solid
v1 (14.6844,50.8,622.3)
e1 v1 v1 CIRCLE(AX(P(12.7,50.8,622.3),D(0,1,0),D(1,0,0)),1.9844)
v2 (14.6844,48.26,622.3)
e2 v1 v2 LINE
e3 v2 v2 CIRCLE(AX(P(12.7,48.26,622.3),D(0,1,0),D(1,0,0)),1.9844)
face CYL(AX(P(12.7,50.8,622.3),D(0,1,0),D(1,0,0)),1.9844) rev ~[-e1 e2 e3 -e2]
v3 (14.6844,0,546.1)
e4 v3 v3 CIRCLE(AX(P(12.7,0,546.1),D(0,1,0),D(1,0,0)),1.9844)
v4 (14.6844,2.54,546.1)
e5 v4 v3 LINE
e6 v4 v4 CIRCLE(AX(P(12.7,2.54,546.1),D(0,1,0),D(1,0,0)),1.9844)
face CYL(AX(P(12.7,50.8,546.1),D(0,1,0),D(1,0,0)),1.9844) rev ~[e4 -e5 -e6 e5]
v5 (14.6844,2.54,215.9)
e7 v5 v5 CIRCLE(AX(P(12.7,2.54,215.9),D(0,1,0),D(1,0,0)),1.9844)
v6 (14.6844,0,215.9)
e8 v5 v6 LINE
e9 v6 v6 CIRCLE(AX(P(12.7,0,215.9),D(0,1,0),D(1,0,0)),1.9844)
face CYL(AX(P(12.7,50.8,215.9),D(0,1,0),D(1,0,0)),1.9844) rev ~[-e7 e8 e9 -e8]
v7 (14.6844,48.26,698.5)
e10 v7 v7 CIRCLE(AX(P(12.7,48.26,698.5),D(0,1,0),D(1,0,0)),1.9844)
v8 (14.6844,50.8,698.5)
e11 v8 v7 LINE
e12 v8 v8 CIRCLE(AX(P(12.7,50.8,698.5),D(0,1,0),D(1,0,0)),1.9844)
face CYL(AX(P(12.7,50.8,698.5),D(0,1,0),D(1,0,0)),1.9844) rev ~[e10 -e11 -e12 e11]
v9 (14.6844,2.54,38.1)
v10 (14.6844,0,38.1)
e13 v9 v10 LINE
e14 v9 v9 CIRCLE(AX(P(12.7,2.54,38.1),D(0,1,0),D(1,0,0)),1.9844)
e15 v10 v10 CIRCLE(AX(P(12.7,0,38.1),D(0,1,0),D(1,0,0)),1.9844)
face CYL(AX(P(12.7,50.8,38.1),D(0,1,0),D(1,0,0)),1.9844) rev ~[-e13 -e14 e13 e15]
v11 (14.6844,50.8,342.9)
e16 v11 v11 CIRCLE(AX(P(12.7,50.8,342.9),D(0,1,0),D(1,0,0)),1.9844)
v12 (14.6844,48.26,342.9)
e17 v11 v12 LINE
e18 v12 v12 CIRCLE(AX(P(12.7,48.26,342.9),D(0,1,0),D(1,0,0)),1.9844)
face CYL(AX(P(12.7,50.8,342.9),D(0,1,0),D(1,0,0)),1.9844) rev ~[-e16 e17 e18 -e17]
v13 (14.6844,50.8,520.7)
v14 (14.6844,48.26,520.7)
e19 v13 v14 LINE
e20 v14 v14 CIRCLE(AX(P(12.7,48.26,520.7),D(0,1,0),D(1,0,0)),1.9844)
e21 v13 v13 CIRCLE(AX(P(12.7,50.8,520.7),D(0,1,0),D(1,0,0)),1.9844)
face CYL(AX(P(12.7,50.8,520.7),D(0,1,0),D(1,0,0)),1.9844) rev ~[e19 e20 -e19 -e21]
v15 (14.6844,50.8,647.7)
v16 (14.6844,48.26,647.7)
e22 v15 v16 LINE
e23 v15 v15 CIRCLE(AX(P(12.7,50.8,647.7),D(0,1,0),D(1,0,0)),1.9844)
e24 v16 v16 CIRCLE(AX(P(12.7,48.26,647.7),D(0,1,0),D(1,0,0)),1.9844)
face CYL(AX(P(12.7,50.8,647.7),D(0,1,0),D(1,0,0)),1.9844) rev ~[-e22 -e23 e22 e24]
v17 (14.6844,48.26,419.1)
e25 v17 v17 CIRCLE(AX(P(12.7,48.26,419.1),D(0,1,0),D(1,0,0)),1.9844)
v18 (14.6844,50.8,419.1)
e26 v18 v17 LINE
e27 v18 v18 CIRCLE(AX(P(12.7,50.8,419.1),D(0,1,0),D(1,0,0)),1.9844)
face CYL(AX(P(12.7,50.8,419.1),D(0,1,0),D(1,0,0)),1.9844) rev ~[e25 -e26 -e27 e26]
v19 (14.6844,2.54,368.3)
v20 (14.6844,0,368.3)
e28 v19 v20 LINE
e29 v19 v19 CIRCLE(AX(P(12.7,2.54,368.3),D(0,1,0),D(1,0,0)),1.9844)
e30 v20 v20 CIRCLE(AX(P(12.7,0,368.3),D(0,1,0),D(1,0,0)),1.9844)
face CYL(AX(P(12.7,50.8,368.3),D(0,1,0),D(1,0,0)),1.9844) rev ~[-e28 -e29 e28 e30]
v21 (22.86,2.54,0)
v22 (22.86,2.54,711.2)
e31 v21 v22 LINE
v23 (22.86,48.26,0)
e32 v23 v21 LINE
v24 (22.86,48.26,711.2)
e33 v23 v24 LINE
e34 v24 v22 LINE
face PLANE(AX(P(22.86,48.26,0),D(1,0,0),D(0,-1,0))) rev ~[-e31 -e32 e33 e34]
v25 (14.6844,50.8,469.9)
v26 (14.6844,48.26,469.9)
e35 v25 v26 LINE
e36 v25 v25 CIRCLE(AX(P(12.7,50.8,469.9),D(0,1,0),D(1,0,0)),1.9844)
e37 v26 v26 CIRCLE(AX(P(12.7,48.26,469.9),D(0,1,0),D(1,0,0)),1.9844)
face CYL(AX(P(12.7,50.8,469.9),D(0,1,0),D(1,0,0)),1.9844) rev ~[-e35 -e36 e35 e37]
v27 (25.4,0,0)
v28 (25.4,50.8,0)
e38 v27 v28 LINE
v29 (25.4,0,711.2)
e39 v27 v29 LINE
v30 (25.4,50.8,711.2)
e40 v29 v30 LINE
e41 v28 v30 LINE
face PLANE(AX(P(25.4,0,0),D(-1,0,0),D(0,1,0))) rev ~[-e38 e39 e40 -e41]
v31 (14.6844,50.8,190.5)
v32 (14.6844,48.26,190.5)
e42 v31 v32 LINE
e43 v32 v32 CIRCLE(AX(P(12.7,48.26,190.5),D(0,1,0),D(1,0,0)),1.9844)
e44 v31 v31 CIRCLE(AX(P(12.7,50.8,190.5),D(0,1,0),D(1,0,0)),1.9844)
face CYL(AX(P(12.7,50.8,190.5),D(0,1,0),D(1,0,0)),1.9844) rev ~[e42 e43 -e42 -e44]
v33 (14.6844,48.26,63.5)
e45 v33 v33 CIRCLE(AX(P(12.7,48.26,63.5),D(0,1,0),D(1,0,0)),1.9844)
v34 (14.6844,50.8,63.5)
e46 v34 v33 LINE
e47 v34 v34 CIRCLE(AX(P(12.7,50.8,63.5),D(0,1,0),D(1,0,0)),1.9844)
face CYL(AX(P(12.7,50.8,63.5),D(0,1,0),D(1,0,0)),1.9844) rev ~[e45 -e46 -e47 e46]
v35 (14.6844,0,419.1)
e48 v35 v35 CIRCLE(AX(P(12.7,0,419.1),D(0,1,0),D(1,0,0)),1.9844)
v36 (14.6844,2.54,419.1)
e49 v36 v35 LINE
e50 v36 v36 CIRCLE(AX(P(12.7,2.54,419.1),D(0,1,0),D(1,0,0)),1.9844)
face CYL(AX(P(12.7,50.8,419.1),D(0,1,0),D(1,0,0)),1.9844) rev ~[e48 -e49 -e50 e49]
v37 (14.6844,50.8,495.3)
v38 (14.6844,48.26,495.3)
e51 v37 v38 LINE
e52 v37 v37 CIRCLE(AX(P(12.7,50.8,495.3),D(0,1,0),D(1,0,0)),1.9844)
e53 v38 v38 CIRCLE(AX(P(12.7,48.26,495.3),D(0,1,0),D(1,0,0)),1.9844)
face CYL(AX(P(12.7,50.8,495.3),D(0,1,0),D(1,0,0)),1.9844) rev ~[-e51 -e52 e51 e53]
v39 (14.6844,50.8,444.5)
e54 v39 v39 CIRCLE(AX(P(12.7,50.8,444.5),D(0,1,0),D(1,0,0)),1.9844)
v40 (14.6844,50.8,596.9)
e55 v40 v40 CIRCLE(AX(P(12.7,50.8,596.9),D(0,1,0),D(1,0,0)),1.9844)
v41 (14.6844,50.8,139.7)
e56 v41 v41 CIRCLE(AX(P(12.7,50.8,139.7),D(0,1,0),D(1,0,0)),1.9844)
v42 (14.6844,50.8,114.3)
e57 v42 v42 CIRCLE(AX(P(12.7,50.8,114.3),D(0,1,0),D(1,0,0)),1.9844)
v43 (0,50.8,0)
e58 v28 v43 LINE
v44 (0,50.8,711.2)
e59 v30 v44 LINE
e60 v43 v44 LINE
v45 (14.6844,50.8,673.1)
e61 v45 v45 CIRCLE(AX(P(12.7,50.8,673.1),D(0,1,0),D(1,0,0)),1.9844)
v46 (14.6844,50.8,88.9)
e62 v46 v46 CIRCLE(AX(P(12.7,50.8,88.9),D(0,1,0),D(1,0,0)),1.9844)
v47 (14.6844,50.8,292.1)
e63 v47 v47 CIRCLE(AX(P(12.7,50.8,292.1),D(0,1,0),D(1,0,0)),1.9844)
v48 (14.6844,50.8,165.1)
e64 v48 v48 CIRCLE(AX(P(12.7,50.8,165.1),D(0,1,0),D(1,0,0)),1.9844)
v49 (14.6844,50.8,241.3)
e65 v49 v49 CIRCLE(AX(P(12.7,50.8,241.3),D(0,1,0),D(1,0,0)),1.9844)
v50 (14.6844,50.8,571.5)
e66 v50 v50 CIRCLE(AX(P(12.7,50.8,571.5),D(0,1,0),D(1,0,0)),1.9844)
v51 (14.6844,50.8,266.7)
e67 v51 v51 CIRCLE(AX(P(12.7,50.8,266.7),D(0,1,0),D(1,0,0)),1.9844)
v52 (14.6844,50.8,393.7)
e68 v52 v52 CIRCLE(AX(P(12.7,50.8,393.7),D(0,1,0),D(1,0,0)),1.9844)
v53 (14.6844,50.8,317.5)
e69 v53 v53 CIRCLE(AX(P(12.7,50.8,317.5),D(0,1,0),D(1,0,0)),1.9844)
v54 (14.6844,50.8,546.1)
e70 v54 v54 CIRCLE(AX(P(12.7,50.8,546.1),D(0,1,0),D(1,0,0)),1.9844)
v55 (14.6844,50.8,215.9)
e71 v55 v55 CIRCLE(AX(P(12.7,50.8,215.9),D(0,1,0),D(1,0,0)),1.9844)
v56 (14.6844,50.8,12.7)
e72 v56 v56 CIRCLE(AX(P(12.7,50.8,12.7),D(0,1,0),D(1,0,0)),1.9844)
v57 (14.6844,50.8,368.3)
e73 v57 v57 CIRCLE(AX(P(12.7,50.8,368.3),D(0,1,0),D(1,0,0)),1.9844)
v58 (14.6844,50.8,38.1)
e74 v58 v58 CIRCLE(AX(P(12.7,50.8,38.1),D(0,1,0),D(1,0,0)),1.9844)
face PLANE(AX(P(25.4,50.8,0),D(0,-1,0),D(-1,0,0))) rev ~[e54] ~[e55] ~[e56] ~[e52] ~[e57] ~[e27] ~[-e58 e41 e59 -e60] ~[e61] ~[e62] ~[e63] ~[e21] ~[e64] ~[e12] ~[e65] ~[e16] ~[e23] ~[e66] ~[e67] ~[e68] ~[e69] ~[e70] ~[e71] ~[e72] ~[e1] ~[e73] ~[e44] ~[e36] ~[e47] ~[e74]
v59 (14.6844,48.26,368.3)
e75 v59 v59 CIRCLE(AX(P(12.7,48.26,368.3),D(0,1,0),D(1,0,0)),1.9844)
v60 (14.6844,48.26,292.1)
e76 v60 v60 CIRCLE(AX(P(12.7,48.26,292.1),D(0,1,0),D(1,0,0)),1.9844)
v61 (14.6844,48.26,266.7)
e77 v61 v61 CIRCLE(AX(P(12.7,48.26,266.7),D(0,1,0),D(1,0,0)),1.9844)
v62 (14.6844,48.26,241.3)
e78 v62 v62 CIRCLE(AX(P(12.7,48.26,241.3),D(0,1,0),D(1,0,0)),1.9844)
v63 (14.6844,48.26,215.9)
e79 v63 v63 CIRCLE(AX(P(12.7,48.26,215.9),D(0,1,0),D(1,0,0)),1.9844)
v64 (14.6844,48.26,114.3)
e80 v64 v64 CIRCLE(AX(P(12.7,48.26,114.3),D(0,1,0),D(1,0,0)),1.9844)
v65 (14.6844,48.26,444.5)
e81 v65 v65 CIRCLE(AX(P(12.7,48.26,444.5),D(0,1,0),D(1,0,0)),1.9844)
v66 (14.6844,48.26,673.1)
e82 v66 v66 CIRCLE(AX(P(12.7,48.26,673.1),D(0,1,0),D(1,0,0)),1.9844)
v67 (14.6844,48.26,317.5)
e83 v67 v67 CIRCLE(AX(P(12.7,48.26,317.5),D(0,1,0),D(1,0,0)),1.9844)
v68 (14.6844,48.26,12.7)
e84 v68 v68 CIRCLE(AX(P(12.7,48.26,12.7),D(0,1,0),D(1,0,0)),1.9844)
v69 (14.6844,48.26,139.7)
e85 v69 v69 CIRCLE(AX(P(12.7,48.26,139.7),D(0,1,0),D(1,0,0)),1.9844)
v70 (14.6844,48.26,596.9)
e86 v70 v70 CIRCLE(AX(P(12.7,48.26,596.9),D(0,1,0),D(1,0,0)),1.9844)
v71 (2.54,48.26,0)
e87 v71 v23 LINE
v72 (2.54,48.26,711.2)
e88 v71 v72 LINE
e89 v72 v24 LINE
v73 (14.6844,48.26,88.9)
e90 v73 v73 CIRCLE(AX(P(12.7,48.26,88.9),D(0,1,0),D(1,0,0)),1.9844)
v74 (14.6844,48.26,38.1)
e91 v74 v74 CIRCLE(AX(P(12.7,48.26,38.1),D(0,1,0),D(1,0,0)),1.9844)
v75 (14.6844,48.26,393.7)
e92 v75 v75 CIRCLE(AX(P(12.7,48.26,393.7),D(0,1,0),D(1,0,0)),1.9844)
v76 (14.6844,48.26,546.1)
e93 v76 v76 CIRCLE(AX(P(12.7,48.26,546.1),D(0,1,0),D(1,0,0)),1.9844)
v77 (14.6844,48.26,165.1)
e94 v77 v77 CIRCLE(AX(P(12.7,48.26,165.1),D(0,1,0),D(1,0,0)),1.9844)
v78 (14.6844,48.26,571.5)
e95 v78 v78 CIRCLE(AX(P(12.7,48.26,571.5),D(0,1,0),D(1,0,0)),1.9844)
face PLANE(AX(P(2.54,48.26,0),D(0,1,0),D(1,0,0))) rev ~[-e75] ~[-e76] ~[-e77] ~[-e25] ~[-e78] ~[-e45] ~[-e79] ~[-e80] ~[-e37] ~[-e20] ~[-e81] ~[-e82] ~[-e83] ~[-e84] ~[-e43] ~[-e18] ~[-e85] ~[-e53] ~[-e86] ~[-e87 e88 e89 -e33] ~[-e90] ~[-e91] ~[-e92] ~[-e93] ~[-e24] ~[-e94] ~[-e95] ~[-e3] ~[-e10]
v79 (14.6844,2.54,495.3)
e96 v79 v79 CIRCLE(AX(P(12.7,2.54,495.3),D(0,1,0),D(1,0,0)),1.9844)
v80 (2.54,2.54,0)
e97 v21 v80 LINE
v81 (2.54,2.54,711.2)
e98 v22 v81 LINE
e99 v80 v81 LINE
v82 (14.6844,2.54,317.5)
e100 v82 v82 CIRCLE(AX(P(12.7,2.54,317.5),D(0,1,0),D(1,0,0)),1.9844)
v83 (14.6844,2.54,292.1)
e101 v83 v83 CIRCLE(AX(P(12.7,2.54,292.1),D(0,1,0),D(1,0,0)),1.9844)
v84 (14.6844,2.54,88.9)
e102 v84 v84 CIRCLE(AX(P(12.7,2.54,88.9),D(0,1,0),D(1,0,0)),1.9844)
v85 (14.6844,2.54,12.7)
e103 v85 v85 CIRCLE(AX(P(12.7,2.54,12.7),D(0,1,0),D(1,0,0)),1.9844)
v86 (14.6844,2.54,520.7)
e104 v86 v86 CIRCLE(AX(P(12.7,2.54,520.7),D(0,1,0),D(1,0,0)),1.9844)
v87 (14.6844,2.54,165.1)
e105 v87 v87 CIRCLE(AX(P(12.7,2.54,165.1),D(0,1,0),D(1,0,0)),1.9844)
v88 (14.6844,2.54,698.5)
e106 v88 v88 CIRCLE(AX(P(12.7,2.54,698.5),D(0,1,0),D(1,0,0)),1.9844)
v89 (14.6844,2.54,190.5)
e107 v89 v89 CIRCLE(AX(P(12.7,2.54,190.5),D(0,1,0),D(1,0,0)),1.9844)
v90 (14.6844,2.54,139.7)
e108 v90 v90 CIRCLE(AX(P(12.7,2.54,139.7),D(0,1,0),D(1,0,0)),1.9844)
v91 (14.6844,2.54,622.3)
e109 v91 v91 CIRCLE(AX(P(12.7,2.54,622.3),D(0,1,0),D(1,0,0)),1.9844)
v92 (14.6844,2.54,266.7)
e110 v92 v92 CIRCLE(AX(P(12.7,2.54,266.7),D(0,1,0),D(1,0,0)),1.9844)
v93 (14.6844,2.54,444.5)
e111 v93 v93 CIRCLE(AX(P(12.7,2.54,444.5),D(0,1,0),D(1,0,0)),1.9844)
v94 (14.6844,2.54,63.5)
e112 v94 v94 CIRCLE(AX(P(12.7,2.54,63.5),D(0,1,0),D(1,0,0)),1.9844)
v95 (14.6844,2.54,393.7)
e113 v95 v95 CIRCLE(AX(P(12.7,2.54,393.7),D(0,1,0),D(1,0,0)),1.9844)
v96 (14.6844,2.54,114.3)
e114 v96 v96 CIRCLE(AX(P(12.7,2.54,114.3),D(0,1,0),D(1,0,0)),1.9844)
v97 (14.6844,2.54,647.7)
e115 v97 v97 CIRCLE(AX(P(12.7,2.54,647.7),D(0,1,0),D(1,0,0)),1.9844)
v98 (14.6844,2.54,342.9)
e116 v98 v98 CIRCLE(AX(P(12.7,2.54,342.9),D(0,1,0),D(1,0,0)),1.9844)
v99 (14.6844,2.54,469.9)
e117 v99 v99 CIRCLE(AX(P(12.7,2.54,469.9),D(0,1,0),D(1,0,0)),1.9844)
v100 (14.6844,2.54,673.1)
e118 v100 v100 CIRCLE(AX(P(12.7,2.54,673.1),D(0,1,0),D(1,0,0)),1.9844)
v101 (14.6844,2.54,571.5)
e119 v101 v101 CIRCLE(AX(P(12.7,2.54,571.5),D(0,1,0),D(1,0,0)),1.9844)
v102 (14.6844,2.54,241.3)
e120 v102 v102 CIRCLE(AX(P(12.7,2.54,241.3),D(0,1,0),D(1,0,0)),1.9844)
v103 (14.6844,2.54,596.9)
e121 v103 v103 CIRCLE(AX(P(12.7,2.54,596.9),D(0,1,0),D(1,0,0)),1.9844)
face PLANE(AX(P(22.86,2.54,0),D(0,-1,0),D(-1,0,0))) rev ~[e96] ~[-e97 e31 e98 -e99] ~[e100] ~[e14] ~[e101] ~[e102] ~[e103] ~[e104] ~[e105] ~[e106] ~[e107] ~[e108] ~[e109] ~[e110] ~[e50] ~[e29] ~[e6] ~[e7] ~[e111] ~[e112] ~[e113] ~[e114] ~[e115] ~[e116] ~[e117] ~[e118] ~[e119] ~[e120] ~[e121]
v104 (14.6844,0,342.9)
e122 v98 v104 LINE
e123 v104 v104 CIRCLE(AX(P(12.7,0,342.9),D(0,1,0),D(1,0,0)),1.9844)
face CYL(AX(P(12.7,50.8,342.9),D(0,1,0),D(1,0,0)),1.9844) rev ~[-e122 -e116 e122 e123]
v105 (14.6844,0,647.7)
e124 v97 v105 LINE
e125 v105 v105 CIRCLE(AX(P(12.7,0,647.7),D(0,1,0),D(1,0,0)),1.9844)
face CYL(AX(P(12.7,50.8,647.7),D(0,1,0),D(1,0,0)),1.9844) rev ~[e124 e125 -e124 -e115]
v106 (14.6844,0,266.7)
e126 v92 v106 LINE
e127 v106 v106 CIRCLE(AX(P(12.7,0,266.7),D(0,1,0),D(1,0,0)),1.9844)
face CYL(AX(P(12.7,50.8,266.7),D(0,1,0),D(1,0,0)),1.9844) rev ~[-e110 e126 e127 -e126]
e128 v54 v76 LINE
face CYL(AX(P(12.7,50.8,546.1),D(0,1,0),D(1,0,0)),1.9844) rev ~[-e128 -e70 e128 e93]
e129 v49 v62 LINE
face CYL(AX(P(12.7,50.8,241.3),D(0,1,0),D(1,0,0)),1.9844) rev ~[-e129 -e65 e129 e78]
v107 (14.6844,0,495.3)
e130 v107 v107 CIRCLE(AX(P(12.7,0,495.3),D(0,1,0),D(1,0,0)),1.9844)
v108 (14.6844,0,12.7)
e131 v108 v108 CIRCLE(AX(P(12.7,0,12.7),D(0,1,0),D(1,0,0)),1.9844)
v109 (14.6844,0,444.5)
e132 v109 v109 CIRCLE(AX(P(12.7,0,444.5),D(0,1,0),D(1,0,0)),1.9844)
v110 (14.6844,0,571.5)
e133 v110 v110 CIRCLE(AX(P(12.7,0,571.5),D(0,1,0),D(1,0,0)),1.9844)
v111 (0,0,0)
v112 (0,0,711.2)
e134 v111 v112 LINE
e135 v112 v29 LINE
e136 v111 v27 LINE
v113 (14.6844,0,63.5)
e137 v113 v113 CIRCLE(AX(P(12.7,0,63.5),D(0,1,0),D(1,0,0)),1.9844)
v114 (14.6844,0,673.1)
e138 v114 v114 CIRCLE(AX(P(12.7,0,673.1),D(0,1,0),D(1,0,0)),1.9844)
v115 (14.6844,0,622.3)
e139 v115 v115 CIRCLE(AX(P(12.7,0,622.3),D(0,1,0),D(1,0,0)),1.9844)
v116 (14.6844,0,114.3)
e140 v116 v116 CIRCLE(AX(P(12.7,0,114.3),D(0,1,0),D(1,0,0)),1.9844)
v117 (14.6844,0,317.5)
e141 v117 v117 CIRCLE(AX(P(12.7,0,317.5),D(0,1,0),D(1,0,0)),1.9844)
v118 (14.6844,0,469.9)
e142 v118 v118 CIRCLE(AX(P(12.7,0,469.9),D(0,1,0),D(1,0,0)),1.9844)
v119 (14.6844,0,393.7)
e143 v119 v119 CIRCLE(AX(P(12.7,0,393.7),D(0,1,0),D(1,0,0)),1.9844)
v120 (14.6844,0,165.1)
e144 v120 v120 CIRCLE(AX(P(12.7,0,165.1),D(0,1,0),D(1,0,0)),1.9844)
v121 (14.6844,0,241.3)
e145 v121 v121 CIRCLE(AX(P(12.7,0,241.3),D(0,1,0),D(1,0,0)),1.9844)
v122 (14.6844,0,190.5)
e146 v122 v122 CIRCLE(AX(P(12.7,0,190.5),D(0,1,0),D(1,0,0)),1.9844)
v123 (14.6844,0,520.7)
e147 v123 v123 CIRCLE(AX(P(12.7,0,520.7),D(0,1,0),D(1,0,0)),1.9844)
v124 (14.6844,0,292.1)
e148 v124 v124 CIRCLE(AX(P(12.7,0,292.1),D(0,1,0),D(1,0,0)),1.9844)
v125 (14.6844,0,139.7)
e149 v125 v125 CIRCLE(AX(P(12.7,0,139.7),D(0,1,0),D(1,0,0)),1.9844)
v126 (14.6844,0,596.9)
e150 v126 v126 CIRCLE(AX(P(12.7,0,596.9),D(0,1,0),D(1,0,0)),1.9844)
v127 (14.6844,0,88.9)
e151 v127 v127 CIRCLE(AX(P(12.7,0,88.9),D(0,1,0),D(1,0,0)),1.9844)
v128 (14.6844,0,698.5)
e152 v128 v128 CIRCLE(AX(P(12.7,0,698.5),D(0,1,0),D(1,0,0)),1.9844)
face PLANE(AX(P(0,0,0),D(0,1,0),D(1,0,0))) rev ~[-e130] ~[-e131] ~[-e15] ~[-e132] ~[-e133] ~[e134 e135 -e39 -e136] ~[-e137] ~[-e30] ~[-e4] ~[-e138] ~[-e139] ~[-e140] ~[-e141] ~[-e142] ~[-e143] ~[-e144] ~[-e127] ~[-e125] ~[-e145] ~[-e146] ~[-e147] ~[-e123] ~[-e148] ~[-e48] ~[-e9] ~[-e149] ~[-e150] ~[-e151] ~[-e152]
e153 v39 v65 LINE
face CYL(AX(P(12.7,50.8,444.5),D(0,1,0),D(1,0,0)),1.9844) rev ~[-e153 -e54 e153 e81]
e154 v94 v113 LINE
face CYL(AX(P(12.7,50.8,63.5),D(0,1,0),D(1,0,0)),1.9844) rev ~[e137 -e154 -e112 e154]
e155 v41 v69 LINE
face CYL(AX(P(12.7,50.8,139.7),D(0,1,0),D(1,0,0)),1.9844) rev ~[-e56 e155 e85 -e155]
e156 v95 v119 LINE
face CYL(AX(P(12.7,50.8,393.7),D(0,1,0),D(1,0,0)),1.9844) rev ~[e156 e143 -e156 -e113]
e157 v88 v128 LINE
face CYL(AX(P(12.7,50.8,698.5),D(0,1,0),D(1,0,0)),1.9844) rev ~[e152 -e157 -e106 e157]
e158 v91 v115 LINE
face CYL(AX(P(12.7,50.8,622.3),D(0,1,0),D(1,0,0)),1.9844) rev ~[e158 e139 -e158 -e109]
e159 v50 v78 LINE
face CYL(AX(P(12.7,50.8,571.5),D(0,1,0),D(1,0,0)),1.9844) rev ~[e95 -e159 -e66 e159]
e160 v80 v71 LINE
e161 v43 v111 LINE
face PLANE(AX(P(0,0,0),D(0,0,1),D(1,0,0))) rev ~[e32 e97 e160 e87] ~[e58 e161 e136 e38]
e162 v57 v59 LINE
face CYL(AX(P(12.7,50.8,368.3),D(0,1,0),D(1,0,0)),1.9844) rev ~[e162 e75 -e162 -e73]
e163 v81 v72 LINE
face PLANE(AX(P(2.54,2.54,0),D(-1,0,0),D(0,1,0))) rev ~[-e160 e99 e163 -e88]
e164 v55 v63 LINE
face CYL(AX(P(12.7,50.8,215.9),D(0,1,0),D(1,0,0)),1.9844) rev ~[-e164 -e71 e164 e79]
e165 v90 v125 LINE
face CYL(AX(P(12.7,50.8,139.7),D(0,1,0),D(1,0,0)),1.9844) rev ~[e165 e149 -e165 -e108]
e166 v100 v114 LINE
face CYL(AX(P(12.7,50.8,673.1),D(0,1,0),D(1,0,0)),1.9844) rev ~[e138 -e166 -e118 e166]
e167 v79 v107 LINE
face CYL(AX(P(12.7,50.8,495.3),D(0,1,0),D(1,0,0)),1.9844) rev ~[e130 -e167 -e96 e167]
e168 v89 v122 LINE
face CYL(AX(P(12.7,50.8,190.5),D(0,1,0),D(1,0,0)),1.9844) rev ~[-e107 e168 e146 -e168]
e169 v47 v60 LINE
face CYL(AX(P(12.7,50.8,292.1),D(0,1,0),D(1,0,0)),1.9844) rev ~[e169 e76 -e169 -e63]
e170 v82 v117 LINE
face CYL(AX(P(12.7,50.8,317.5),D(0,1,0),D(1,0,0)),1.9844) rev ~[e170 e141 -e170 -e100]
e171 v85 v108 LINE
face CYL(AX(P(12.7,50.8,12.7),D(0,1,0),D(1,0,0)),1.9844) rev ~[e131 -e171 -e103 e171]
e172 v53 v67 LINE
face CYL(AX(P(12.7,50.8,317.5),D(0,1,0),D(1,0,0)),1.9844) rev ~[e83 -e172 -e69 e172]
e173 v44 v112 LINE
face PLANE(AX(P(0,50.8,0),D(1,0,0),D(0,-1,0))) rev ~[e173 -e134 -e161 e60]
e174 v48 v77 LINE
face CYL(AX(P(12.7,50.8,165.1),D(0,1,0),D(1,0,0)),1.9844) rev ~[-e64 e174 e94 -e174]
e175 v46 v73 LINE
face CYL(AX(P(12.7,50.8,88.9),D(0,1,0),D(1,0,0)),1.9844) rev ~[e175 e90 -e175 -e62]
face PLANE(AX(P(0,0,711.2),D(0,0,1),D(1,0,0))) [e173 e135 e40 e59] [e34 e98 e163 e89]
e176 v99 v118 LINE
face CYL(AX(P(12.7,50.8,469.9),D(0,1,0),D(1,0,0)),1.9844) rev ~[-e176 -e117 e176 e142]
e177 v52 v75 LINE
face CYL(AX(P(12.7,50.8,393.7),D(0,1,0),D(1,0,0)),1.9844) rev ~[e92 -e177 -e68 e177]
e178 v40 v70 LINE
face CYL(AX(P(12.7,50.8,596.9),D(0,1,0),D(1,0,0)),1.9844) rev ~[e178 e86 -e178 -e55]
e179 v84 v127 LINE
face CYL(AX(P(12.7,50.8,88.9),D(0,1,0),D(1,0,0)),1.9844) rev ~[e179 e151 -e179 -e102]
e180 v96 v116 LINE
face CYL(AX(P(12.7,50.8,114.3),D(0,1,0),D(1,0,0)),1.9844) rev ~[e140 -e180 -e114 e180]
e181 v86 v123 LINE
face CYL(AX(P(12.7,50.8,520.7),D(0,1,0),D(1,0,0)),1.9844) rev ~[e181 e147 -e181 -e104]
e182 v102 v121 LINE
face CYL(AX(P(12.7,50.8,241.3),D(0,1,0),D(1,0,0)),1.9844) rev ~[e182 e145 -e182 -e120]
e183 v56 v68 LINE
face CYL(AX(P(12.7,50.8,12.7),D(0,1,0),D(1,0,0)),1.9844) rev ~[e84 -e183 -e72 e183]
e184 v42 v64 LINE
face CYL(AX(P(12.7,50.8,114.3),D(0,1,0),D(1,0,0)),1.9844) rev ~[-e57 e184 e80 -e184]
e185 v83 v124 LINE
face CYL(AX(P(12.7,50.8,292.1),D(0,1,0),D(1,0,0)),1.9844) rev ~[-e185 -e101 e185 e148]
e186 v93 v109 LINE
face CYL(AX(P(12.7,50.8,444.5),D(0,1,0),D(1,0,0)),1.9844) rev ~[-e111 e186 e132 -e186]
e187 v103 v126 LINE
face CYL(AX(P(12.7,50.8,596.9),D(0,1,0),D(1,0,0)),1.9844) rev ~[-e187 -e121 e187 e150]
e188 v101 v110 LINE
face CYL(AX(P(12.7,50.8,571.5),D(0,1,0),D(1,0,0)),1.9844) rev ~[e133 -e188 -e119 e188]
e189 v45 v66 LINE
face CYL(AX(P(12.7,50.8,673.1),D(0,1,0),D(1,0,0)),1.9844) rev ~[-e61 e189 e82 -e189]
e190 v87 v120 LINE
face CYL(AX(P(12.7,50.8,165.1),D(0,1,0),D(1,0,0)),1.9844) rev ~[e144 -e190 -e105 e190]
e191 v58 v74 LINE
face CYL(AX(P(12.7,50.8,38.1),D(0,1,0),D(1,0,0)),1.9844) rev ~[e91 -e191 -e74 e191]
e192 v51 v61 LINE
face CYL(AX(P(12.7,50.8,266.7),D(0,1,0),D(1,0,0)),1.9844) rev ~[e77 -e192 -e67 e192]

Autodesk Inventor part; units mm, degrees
ref_plane "YZ Plane" through (0, 0, 0) normal (1, 0, 0) x (0, 1, 0)
ref_plane "XZ Plane" through (0, 0, 0) normal (0, 1, 0) x (-1, 0, 0)
ref_plane "XY Plane" through (0, 0, 0) normal (0, 0, 1) x (1, 0, 0)
sketch "Sketch1" plane through (0, 0, 0) normal (0, 0, 1) x (1, 0, 0)
  line L0 (0, 0) -> (25.4, 0)
  line L1 (25.4, 0) -> (25.4, 50.8)
  line L2 (25.4, 50.8) -> (0, 50.8)
  line L3 (0, 50.8) -> (0, 0)
  line L4 (22.86, 48.26) -> (22.86, 2.54)
  line L5 (22.86, 2.54) -> (2.54, 2.54)
  line L6 (2.54, 2.54) -> (2.54, 48.26)
  line L7 (2.54, 48.26) -> (22.86, 48.26)
  dimension "d0" = 25.4
  dimension "d1" = 50.8
  dimension "d2" = 2.54
extrude "Extrusion1" add sketch "Sketch1" along normal blind 711.2
sketch "Sketch2" plane through (0, 50.8, 0) normal (0, 1, 0) x (1, 0, 0)
  circle A0 centre (12.7, -12.7) radius 1.9844
  line L0 (25.4, 0) -> (0, 0) projected
  line L1 (25.4, 0) -> (25.4, -711.2) projected
  circle A1 centre (12.7, -38.1) radius 1.9844
  circle A2 centre (12.7, -63.5) radius 1.9844
  circle A3 centre (12.7, -88.9) radius 1.9844
  circle A4 centre (12.7, -114.3) radius 1.9844
  circle A5 centre (12.7, -139.7) radius 1.9844
  circle A6 centre (12.7, -165.1) radius 1.9844
  circle A7 centre (12.7, -190.5) radius 1.9844
  circle A8 centre (12.7, -215.9) radius 1.9844
  circle A9 centre (12.7, -241.3) radius 1.9844
  circle A10 centre (12.7, -266.7) radius 1.9844
  circle A11 centre (12.7, -292.1) radius 1.9844
  circle A12 centre (12.7, -317.5) radius 1.9844
  circle A13 centre (12.7, -342.9) radius 1.9844
  circle A14 centre (12.7, -368.3) radius 1.9844
  circle A15 centre (12.7, -393.7) radius 1.9844
  circle A16 centre (12.7, -419.1) radius 1.9844
  circle A17 centre (12.7, -444.5) radius 1.9844
  circle A18 centre (12.7, -469.9) radius 1.9844
  circle A19 centre (12.7, -495.3) radius 1.9844
  circle A20 centre (12.7, -520.7) radius 1.9844
  circle A21 centre (12.7, -546.1) radius 1.9844
  circle A22 centre (12.7, -571.5) radius 1.9844
  circle A23 centre (12.7, -596.9) radius 1.9844
  circle A24 centre (12.7, -622.3) radius 1.9844
  circle A25 centre (12.7, -647.7) radius 1.9844
  circle A26 centre (12.7, -673.1) radius 1.9844
  circle A27 centre (12.7, -698.5) radius 1.9844
  circle A28 centre (12.7, -723.9) radius 1.9844
  dimension "d5" = 3.9688
  dimension "d6" = 12.7
  dimension "d7" = 12.7
  dimension "d10" = 25.4
extrude "Extrusion2" cut sketch "Sketch2" against normal blind 76.2
properties part number "28in OChannel 1x2" material "Aluminum 6061-AHC"
